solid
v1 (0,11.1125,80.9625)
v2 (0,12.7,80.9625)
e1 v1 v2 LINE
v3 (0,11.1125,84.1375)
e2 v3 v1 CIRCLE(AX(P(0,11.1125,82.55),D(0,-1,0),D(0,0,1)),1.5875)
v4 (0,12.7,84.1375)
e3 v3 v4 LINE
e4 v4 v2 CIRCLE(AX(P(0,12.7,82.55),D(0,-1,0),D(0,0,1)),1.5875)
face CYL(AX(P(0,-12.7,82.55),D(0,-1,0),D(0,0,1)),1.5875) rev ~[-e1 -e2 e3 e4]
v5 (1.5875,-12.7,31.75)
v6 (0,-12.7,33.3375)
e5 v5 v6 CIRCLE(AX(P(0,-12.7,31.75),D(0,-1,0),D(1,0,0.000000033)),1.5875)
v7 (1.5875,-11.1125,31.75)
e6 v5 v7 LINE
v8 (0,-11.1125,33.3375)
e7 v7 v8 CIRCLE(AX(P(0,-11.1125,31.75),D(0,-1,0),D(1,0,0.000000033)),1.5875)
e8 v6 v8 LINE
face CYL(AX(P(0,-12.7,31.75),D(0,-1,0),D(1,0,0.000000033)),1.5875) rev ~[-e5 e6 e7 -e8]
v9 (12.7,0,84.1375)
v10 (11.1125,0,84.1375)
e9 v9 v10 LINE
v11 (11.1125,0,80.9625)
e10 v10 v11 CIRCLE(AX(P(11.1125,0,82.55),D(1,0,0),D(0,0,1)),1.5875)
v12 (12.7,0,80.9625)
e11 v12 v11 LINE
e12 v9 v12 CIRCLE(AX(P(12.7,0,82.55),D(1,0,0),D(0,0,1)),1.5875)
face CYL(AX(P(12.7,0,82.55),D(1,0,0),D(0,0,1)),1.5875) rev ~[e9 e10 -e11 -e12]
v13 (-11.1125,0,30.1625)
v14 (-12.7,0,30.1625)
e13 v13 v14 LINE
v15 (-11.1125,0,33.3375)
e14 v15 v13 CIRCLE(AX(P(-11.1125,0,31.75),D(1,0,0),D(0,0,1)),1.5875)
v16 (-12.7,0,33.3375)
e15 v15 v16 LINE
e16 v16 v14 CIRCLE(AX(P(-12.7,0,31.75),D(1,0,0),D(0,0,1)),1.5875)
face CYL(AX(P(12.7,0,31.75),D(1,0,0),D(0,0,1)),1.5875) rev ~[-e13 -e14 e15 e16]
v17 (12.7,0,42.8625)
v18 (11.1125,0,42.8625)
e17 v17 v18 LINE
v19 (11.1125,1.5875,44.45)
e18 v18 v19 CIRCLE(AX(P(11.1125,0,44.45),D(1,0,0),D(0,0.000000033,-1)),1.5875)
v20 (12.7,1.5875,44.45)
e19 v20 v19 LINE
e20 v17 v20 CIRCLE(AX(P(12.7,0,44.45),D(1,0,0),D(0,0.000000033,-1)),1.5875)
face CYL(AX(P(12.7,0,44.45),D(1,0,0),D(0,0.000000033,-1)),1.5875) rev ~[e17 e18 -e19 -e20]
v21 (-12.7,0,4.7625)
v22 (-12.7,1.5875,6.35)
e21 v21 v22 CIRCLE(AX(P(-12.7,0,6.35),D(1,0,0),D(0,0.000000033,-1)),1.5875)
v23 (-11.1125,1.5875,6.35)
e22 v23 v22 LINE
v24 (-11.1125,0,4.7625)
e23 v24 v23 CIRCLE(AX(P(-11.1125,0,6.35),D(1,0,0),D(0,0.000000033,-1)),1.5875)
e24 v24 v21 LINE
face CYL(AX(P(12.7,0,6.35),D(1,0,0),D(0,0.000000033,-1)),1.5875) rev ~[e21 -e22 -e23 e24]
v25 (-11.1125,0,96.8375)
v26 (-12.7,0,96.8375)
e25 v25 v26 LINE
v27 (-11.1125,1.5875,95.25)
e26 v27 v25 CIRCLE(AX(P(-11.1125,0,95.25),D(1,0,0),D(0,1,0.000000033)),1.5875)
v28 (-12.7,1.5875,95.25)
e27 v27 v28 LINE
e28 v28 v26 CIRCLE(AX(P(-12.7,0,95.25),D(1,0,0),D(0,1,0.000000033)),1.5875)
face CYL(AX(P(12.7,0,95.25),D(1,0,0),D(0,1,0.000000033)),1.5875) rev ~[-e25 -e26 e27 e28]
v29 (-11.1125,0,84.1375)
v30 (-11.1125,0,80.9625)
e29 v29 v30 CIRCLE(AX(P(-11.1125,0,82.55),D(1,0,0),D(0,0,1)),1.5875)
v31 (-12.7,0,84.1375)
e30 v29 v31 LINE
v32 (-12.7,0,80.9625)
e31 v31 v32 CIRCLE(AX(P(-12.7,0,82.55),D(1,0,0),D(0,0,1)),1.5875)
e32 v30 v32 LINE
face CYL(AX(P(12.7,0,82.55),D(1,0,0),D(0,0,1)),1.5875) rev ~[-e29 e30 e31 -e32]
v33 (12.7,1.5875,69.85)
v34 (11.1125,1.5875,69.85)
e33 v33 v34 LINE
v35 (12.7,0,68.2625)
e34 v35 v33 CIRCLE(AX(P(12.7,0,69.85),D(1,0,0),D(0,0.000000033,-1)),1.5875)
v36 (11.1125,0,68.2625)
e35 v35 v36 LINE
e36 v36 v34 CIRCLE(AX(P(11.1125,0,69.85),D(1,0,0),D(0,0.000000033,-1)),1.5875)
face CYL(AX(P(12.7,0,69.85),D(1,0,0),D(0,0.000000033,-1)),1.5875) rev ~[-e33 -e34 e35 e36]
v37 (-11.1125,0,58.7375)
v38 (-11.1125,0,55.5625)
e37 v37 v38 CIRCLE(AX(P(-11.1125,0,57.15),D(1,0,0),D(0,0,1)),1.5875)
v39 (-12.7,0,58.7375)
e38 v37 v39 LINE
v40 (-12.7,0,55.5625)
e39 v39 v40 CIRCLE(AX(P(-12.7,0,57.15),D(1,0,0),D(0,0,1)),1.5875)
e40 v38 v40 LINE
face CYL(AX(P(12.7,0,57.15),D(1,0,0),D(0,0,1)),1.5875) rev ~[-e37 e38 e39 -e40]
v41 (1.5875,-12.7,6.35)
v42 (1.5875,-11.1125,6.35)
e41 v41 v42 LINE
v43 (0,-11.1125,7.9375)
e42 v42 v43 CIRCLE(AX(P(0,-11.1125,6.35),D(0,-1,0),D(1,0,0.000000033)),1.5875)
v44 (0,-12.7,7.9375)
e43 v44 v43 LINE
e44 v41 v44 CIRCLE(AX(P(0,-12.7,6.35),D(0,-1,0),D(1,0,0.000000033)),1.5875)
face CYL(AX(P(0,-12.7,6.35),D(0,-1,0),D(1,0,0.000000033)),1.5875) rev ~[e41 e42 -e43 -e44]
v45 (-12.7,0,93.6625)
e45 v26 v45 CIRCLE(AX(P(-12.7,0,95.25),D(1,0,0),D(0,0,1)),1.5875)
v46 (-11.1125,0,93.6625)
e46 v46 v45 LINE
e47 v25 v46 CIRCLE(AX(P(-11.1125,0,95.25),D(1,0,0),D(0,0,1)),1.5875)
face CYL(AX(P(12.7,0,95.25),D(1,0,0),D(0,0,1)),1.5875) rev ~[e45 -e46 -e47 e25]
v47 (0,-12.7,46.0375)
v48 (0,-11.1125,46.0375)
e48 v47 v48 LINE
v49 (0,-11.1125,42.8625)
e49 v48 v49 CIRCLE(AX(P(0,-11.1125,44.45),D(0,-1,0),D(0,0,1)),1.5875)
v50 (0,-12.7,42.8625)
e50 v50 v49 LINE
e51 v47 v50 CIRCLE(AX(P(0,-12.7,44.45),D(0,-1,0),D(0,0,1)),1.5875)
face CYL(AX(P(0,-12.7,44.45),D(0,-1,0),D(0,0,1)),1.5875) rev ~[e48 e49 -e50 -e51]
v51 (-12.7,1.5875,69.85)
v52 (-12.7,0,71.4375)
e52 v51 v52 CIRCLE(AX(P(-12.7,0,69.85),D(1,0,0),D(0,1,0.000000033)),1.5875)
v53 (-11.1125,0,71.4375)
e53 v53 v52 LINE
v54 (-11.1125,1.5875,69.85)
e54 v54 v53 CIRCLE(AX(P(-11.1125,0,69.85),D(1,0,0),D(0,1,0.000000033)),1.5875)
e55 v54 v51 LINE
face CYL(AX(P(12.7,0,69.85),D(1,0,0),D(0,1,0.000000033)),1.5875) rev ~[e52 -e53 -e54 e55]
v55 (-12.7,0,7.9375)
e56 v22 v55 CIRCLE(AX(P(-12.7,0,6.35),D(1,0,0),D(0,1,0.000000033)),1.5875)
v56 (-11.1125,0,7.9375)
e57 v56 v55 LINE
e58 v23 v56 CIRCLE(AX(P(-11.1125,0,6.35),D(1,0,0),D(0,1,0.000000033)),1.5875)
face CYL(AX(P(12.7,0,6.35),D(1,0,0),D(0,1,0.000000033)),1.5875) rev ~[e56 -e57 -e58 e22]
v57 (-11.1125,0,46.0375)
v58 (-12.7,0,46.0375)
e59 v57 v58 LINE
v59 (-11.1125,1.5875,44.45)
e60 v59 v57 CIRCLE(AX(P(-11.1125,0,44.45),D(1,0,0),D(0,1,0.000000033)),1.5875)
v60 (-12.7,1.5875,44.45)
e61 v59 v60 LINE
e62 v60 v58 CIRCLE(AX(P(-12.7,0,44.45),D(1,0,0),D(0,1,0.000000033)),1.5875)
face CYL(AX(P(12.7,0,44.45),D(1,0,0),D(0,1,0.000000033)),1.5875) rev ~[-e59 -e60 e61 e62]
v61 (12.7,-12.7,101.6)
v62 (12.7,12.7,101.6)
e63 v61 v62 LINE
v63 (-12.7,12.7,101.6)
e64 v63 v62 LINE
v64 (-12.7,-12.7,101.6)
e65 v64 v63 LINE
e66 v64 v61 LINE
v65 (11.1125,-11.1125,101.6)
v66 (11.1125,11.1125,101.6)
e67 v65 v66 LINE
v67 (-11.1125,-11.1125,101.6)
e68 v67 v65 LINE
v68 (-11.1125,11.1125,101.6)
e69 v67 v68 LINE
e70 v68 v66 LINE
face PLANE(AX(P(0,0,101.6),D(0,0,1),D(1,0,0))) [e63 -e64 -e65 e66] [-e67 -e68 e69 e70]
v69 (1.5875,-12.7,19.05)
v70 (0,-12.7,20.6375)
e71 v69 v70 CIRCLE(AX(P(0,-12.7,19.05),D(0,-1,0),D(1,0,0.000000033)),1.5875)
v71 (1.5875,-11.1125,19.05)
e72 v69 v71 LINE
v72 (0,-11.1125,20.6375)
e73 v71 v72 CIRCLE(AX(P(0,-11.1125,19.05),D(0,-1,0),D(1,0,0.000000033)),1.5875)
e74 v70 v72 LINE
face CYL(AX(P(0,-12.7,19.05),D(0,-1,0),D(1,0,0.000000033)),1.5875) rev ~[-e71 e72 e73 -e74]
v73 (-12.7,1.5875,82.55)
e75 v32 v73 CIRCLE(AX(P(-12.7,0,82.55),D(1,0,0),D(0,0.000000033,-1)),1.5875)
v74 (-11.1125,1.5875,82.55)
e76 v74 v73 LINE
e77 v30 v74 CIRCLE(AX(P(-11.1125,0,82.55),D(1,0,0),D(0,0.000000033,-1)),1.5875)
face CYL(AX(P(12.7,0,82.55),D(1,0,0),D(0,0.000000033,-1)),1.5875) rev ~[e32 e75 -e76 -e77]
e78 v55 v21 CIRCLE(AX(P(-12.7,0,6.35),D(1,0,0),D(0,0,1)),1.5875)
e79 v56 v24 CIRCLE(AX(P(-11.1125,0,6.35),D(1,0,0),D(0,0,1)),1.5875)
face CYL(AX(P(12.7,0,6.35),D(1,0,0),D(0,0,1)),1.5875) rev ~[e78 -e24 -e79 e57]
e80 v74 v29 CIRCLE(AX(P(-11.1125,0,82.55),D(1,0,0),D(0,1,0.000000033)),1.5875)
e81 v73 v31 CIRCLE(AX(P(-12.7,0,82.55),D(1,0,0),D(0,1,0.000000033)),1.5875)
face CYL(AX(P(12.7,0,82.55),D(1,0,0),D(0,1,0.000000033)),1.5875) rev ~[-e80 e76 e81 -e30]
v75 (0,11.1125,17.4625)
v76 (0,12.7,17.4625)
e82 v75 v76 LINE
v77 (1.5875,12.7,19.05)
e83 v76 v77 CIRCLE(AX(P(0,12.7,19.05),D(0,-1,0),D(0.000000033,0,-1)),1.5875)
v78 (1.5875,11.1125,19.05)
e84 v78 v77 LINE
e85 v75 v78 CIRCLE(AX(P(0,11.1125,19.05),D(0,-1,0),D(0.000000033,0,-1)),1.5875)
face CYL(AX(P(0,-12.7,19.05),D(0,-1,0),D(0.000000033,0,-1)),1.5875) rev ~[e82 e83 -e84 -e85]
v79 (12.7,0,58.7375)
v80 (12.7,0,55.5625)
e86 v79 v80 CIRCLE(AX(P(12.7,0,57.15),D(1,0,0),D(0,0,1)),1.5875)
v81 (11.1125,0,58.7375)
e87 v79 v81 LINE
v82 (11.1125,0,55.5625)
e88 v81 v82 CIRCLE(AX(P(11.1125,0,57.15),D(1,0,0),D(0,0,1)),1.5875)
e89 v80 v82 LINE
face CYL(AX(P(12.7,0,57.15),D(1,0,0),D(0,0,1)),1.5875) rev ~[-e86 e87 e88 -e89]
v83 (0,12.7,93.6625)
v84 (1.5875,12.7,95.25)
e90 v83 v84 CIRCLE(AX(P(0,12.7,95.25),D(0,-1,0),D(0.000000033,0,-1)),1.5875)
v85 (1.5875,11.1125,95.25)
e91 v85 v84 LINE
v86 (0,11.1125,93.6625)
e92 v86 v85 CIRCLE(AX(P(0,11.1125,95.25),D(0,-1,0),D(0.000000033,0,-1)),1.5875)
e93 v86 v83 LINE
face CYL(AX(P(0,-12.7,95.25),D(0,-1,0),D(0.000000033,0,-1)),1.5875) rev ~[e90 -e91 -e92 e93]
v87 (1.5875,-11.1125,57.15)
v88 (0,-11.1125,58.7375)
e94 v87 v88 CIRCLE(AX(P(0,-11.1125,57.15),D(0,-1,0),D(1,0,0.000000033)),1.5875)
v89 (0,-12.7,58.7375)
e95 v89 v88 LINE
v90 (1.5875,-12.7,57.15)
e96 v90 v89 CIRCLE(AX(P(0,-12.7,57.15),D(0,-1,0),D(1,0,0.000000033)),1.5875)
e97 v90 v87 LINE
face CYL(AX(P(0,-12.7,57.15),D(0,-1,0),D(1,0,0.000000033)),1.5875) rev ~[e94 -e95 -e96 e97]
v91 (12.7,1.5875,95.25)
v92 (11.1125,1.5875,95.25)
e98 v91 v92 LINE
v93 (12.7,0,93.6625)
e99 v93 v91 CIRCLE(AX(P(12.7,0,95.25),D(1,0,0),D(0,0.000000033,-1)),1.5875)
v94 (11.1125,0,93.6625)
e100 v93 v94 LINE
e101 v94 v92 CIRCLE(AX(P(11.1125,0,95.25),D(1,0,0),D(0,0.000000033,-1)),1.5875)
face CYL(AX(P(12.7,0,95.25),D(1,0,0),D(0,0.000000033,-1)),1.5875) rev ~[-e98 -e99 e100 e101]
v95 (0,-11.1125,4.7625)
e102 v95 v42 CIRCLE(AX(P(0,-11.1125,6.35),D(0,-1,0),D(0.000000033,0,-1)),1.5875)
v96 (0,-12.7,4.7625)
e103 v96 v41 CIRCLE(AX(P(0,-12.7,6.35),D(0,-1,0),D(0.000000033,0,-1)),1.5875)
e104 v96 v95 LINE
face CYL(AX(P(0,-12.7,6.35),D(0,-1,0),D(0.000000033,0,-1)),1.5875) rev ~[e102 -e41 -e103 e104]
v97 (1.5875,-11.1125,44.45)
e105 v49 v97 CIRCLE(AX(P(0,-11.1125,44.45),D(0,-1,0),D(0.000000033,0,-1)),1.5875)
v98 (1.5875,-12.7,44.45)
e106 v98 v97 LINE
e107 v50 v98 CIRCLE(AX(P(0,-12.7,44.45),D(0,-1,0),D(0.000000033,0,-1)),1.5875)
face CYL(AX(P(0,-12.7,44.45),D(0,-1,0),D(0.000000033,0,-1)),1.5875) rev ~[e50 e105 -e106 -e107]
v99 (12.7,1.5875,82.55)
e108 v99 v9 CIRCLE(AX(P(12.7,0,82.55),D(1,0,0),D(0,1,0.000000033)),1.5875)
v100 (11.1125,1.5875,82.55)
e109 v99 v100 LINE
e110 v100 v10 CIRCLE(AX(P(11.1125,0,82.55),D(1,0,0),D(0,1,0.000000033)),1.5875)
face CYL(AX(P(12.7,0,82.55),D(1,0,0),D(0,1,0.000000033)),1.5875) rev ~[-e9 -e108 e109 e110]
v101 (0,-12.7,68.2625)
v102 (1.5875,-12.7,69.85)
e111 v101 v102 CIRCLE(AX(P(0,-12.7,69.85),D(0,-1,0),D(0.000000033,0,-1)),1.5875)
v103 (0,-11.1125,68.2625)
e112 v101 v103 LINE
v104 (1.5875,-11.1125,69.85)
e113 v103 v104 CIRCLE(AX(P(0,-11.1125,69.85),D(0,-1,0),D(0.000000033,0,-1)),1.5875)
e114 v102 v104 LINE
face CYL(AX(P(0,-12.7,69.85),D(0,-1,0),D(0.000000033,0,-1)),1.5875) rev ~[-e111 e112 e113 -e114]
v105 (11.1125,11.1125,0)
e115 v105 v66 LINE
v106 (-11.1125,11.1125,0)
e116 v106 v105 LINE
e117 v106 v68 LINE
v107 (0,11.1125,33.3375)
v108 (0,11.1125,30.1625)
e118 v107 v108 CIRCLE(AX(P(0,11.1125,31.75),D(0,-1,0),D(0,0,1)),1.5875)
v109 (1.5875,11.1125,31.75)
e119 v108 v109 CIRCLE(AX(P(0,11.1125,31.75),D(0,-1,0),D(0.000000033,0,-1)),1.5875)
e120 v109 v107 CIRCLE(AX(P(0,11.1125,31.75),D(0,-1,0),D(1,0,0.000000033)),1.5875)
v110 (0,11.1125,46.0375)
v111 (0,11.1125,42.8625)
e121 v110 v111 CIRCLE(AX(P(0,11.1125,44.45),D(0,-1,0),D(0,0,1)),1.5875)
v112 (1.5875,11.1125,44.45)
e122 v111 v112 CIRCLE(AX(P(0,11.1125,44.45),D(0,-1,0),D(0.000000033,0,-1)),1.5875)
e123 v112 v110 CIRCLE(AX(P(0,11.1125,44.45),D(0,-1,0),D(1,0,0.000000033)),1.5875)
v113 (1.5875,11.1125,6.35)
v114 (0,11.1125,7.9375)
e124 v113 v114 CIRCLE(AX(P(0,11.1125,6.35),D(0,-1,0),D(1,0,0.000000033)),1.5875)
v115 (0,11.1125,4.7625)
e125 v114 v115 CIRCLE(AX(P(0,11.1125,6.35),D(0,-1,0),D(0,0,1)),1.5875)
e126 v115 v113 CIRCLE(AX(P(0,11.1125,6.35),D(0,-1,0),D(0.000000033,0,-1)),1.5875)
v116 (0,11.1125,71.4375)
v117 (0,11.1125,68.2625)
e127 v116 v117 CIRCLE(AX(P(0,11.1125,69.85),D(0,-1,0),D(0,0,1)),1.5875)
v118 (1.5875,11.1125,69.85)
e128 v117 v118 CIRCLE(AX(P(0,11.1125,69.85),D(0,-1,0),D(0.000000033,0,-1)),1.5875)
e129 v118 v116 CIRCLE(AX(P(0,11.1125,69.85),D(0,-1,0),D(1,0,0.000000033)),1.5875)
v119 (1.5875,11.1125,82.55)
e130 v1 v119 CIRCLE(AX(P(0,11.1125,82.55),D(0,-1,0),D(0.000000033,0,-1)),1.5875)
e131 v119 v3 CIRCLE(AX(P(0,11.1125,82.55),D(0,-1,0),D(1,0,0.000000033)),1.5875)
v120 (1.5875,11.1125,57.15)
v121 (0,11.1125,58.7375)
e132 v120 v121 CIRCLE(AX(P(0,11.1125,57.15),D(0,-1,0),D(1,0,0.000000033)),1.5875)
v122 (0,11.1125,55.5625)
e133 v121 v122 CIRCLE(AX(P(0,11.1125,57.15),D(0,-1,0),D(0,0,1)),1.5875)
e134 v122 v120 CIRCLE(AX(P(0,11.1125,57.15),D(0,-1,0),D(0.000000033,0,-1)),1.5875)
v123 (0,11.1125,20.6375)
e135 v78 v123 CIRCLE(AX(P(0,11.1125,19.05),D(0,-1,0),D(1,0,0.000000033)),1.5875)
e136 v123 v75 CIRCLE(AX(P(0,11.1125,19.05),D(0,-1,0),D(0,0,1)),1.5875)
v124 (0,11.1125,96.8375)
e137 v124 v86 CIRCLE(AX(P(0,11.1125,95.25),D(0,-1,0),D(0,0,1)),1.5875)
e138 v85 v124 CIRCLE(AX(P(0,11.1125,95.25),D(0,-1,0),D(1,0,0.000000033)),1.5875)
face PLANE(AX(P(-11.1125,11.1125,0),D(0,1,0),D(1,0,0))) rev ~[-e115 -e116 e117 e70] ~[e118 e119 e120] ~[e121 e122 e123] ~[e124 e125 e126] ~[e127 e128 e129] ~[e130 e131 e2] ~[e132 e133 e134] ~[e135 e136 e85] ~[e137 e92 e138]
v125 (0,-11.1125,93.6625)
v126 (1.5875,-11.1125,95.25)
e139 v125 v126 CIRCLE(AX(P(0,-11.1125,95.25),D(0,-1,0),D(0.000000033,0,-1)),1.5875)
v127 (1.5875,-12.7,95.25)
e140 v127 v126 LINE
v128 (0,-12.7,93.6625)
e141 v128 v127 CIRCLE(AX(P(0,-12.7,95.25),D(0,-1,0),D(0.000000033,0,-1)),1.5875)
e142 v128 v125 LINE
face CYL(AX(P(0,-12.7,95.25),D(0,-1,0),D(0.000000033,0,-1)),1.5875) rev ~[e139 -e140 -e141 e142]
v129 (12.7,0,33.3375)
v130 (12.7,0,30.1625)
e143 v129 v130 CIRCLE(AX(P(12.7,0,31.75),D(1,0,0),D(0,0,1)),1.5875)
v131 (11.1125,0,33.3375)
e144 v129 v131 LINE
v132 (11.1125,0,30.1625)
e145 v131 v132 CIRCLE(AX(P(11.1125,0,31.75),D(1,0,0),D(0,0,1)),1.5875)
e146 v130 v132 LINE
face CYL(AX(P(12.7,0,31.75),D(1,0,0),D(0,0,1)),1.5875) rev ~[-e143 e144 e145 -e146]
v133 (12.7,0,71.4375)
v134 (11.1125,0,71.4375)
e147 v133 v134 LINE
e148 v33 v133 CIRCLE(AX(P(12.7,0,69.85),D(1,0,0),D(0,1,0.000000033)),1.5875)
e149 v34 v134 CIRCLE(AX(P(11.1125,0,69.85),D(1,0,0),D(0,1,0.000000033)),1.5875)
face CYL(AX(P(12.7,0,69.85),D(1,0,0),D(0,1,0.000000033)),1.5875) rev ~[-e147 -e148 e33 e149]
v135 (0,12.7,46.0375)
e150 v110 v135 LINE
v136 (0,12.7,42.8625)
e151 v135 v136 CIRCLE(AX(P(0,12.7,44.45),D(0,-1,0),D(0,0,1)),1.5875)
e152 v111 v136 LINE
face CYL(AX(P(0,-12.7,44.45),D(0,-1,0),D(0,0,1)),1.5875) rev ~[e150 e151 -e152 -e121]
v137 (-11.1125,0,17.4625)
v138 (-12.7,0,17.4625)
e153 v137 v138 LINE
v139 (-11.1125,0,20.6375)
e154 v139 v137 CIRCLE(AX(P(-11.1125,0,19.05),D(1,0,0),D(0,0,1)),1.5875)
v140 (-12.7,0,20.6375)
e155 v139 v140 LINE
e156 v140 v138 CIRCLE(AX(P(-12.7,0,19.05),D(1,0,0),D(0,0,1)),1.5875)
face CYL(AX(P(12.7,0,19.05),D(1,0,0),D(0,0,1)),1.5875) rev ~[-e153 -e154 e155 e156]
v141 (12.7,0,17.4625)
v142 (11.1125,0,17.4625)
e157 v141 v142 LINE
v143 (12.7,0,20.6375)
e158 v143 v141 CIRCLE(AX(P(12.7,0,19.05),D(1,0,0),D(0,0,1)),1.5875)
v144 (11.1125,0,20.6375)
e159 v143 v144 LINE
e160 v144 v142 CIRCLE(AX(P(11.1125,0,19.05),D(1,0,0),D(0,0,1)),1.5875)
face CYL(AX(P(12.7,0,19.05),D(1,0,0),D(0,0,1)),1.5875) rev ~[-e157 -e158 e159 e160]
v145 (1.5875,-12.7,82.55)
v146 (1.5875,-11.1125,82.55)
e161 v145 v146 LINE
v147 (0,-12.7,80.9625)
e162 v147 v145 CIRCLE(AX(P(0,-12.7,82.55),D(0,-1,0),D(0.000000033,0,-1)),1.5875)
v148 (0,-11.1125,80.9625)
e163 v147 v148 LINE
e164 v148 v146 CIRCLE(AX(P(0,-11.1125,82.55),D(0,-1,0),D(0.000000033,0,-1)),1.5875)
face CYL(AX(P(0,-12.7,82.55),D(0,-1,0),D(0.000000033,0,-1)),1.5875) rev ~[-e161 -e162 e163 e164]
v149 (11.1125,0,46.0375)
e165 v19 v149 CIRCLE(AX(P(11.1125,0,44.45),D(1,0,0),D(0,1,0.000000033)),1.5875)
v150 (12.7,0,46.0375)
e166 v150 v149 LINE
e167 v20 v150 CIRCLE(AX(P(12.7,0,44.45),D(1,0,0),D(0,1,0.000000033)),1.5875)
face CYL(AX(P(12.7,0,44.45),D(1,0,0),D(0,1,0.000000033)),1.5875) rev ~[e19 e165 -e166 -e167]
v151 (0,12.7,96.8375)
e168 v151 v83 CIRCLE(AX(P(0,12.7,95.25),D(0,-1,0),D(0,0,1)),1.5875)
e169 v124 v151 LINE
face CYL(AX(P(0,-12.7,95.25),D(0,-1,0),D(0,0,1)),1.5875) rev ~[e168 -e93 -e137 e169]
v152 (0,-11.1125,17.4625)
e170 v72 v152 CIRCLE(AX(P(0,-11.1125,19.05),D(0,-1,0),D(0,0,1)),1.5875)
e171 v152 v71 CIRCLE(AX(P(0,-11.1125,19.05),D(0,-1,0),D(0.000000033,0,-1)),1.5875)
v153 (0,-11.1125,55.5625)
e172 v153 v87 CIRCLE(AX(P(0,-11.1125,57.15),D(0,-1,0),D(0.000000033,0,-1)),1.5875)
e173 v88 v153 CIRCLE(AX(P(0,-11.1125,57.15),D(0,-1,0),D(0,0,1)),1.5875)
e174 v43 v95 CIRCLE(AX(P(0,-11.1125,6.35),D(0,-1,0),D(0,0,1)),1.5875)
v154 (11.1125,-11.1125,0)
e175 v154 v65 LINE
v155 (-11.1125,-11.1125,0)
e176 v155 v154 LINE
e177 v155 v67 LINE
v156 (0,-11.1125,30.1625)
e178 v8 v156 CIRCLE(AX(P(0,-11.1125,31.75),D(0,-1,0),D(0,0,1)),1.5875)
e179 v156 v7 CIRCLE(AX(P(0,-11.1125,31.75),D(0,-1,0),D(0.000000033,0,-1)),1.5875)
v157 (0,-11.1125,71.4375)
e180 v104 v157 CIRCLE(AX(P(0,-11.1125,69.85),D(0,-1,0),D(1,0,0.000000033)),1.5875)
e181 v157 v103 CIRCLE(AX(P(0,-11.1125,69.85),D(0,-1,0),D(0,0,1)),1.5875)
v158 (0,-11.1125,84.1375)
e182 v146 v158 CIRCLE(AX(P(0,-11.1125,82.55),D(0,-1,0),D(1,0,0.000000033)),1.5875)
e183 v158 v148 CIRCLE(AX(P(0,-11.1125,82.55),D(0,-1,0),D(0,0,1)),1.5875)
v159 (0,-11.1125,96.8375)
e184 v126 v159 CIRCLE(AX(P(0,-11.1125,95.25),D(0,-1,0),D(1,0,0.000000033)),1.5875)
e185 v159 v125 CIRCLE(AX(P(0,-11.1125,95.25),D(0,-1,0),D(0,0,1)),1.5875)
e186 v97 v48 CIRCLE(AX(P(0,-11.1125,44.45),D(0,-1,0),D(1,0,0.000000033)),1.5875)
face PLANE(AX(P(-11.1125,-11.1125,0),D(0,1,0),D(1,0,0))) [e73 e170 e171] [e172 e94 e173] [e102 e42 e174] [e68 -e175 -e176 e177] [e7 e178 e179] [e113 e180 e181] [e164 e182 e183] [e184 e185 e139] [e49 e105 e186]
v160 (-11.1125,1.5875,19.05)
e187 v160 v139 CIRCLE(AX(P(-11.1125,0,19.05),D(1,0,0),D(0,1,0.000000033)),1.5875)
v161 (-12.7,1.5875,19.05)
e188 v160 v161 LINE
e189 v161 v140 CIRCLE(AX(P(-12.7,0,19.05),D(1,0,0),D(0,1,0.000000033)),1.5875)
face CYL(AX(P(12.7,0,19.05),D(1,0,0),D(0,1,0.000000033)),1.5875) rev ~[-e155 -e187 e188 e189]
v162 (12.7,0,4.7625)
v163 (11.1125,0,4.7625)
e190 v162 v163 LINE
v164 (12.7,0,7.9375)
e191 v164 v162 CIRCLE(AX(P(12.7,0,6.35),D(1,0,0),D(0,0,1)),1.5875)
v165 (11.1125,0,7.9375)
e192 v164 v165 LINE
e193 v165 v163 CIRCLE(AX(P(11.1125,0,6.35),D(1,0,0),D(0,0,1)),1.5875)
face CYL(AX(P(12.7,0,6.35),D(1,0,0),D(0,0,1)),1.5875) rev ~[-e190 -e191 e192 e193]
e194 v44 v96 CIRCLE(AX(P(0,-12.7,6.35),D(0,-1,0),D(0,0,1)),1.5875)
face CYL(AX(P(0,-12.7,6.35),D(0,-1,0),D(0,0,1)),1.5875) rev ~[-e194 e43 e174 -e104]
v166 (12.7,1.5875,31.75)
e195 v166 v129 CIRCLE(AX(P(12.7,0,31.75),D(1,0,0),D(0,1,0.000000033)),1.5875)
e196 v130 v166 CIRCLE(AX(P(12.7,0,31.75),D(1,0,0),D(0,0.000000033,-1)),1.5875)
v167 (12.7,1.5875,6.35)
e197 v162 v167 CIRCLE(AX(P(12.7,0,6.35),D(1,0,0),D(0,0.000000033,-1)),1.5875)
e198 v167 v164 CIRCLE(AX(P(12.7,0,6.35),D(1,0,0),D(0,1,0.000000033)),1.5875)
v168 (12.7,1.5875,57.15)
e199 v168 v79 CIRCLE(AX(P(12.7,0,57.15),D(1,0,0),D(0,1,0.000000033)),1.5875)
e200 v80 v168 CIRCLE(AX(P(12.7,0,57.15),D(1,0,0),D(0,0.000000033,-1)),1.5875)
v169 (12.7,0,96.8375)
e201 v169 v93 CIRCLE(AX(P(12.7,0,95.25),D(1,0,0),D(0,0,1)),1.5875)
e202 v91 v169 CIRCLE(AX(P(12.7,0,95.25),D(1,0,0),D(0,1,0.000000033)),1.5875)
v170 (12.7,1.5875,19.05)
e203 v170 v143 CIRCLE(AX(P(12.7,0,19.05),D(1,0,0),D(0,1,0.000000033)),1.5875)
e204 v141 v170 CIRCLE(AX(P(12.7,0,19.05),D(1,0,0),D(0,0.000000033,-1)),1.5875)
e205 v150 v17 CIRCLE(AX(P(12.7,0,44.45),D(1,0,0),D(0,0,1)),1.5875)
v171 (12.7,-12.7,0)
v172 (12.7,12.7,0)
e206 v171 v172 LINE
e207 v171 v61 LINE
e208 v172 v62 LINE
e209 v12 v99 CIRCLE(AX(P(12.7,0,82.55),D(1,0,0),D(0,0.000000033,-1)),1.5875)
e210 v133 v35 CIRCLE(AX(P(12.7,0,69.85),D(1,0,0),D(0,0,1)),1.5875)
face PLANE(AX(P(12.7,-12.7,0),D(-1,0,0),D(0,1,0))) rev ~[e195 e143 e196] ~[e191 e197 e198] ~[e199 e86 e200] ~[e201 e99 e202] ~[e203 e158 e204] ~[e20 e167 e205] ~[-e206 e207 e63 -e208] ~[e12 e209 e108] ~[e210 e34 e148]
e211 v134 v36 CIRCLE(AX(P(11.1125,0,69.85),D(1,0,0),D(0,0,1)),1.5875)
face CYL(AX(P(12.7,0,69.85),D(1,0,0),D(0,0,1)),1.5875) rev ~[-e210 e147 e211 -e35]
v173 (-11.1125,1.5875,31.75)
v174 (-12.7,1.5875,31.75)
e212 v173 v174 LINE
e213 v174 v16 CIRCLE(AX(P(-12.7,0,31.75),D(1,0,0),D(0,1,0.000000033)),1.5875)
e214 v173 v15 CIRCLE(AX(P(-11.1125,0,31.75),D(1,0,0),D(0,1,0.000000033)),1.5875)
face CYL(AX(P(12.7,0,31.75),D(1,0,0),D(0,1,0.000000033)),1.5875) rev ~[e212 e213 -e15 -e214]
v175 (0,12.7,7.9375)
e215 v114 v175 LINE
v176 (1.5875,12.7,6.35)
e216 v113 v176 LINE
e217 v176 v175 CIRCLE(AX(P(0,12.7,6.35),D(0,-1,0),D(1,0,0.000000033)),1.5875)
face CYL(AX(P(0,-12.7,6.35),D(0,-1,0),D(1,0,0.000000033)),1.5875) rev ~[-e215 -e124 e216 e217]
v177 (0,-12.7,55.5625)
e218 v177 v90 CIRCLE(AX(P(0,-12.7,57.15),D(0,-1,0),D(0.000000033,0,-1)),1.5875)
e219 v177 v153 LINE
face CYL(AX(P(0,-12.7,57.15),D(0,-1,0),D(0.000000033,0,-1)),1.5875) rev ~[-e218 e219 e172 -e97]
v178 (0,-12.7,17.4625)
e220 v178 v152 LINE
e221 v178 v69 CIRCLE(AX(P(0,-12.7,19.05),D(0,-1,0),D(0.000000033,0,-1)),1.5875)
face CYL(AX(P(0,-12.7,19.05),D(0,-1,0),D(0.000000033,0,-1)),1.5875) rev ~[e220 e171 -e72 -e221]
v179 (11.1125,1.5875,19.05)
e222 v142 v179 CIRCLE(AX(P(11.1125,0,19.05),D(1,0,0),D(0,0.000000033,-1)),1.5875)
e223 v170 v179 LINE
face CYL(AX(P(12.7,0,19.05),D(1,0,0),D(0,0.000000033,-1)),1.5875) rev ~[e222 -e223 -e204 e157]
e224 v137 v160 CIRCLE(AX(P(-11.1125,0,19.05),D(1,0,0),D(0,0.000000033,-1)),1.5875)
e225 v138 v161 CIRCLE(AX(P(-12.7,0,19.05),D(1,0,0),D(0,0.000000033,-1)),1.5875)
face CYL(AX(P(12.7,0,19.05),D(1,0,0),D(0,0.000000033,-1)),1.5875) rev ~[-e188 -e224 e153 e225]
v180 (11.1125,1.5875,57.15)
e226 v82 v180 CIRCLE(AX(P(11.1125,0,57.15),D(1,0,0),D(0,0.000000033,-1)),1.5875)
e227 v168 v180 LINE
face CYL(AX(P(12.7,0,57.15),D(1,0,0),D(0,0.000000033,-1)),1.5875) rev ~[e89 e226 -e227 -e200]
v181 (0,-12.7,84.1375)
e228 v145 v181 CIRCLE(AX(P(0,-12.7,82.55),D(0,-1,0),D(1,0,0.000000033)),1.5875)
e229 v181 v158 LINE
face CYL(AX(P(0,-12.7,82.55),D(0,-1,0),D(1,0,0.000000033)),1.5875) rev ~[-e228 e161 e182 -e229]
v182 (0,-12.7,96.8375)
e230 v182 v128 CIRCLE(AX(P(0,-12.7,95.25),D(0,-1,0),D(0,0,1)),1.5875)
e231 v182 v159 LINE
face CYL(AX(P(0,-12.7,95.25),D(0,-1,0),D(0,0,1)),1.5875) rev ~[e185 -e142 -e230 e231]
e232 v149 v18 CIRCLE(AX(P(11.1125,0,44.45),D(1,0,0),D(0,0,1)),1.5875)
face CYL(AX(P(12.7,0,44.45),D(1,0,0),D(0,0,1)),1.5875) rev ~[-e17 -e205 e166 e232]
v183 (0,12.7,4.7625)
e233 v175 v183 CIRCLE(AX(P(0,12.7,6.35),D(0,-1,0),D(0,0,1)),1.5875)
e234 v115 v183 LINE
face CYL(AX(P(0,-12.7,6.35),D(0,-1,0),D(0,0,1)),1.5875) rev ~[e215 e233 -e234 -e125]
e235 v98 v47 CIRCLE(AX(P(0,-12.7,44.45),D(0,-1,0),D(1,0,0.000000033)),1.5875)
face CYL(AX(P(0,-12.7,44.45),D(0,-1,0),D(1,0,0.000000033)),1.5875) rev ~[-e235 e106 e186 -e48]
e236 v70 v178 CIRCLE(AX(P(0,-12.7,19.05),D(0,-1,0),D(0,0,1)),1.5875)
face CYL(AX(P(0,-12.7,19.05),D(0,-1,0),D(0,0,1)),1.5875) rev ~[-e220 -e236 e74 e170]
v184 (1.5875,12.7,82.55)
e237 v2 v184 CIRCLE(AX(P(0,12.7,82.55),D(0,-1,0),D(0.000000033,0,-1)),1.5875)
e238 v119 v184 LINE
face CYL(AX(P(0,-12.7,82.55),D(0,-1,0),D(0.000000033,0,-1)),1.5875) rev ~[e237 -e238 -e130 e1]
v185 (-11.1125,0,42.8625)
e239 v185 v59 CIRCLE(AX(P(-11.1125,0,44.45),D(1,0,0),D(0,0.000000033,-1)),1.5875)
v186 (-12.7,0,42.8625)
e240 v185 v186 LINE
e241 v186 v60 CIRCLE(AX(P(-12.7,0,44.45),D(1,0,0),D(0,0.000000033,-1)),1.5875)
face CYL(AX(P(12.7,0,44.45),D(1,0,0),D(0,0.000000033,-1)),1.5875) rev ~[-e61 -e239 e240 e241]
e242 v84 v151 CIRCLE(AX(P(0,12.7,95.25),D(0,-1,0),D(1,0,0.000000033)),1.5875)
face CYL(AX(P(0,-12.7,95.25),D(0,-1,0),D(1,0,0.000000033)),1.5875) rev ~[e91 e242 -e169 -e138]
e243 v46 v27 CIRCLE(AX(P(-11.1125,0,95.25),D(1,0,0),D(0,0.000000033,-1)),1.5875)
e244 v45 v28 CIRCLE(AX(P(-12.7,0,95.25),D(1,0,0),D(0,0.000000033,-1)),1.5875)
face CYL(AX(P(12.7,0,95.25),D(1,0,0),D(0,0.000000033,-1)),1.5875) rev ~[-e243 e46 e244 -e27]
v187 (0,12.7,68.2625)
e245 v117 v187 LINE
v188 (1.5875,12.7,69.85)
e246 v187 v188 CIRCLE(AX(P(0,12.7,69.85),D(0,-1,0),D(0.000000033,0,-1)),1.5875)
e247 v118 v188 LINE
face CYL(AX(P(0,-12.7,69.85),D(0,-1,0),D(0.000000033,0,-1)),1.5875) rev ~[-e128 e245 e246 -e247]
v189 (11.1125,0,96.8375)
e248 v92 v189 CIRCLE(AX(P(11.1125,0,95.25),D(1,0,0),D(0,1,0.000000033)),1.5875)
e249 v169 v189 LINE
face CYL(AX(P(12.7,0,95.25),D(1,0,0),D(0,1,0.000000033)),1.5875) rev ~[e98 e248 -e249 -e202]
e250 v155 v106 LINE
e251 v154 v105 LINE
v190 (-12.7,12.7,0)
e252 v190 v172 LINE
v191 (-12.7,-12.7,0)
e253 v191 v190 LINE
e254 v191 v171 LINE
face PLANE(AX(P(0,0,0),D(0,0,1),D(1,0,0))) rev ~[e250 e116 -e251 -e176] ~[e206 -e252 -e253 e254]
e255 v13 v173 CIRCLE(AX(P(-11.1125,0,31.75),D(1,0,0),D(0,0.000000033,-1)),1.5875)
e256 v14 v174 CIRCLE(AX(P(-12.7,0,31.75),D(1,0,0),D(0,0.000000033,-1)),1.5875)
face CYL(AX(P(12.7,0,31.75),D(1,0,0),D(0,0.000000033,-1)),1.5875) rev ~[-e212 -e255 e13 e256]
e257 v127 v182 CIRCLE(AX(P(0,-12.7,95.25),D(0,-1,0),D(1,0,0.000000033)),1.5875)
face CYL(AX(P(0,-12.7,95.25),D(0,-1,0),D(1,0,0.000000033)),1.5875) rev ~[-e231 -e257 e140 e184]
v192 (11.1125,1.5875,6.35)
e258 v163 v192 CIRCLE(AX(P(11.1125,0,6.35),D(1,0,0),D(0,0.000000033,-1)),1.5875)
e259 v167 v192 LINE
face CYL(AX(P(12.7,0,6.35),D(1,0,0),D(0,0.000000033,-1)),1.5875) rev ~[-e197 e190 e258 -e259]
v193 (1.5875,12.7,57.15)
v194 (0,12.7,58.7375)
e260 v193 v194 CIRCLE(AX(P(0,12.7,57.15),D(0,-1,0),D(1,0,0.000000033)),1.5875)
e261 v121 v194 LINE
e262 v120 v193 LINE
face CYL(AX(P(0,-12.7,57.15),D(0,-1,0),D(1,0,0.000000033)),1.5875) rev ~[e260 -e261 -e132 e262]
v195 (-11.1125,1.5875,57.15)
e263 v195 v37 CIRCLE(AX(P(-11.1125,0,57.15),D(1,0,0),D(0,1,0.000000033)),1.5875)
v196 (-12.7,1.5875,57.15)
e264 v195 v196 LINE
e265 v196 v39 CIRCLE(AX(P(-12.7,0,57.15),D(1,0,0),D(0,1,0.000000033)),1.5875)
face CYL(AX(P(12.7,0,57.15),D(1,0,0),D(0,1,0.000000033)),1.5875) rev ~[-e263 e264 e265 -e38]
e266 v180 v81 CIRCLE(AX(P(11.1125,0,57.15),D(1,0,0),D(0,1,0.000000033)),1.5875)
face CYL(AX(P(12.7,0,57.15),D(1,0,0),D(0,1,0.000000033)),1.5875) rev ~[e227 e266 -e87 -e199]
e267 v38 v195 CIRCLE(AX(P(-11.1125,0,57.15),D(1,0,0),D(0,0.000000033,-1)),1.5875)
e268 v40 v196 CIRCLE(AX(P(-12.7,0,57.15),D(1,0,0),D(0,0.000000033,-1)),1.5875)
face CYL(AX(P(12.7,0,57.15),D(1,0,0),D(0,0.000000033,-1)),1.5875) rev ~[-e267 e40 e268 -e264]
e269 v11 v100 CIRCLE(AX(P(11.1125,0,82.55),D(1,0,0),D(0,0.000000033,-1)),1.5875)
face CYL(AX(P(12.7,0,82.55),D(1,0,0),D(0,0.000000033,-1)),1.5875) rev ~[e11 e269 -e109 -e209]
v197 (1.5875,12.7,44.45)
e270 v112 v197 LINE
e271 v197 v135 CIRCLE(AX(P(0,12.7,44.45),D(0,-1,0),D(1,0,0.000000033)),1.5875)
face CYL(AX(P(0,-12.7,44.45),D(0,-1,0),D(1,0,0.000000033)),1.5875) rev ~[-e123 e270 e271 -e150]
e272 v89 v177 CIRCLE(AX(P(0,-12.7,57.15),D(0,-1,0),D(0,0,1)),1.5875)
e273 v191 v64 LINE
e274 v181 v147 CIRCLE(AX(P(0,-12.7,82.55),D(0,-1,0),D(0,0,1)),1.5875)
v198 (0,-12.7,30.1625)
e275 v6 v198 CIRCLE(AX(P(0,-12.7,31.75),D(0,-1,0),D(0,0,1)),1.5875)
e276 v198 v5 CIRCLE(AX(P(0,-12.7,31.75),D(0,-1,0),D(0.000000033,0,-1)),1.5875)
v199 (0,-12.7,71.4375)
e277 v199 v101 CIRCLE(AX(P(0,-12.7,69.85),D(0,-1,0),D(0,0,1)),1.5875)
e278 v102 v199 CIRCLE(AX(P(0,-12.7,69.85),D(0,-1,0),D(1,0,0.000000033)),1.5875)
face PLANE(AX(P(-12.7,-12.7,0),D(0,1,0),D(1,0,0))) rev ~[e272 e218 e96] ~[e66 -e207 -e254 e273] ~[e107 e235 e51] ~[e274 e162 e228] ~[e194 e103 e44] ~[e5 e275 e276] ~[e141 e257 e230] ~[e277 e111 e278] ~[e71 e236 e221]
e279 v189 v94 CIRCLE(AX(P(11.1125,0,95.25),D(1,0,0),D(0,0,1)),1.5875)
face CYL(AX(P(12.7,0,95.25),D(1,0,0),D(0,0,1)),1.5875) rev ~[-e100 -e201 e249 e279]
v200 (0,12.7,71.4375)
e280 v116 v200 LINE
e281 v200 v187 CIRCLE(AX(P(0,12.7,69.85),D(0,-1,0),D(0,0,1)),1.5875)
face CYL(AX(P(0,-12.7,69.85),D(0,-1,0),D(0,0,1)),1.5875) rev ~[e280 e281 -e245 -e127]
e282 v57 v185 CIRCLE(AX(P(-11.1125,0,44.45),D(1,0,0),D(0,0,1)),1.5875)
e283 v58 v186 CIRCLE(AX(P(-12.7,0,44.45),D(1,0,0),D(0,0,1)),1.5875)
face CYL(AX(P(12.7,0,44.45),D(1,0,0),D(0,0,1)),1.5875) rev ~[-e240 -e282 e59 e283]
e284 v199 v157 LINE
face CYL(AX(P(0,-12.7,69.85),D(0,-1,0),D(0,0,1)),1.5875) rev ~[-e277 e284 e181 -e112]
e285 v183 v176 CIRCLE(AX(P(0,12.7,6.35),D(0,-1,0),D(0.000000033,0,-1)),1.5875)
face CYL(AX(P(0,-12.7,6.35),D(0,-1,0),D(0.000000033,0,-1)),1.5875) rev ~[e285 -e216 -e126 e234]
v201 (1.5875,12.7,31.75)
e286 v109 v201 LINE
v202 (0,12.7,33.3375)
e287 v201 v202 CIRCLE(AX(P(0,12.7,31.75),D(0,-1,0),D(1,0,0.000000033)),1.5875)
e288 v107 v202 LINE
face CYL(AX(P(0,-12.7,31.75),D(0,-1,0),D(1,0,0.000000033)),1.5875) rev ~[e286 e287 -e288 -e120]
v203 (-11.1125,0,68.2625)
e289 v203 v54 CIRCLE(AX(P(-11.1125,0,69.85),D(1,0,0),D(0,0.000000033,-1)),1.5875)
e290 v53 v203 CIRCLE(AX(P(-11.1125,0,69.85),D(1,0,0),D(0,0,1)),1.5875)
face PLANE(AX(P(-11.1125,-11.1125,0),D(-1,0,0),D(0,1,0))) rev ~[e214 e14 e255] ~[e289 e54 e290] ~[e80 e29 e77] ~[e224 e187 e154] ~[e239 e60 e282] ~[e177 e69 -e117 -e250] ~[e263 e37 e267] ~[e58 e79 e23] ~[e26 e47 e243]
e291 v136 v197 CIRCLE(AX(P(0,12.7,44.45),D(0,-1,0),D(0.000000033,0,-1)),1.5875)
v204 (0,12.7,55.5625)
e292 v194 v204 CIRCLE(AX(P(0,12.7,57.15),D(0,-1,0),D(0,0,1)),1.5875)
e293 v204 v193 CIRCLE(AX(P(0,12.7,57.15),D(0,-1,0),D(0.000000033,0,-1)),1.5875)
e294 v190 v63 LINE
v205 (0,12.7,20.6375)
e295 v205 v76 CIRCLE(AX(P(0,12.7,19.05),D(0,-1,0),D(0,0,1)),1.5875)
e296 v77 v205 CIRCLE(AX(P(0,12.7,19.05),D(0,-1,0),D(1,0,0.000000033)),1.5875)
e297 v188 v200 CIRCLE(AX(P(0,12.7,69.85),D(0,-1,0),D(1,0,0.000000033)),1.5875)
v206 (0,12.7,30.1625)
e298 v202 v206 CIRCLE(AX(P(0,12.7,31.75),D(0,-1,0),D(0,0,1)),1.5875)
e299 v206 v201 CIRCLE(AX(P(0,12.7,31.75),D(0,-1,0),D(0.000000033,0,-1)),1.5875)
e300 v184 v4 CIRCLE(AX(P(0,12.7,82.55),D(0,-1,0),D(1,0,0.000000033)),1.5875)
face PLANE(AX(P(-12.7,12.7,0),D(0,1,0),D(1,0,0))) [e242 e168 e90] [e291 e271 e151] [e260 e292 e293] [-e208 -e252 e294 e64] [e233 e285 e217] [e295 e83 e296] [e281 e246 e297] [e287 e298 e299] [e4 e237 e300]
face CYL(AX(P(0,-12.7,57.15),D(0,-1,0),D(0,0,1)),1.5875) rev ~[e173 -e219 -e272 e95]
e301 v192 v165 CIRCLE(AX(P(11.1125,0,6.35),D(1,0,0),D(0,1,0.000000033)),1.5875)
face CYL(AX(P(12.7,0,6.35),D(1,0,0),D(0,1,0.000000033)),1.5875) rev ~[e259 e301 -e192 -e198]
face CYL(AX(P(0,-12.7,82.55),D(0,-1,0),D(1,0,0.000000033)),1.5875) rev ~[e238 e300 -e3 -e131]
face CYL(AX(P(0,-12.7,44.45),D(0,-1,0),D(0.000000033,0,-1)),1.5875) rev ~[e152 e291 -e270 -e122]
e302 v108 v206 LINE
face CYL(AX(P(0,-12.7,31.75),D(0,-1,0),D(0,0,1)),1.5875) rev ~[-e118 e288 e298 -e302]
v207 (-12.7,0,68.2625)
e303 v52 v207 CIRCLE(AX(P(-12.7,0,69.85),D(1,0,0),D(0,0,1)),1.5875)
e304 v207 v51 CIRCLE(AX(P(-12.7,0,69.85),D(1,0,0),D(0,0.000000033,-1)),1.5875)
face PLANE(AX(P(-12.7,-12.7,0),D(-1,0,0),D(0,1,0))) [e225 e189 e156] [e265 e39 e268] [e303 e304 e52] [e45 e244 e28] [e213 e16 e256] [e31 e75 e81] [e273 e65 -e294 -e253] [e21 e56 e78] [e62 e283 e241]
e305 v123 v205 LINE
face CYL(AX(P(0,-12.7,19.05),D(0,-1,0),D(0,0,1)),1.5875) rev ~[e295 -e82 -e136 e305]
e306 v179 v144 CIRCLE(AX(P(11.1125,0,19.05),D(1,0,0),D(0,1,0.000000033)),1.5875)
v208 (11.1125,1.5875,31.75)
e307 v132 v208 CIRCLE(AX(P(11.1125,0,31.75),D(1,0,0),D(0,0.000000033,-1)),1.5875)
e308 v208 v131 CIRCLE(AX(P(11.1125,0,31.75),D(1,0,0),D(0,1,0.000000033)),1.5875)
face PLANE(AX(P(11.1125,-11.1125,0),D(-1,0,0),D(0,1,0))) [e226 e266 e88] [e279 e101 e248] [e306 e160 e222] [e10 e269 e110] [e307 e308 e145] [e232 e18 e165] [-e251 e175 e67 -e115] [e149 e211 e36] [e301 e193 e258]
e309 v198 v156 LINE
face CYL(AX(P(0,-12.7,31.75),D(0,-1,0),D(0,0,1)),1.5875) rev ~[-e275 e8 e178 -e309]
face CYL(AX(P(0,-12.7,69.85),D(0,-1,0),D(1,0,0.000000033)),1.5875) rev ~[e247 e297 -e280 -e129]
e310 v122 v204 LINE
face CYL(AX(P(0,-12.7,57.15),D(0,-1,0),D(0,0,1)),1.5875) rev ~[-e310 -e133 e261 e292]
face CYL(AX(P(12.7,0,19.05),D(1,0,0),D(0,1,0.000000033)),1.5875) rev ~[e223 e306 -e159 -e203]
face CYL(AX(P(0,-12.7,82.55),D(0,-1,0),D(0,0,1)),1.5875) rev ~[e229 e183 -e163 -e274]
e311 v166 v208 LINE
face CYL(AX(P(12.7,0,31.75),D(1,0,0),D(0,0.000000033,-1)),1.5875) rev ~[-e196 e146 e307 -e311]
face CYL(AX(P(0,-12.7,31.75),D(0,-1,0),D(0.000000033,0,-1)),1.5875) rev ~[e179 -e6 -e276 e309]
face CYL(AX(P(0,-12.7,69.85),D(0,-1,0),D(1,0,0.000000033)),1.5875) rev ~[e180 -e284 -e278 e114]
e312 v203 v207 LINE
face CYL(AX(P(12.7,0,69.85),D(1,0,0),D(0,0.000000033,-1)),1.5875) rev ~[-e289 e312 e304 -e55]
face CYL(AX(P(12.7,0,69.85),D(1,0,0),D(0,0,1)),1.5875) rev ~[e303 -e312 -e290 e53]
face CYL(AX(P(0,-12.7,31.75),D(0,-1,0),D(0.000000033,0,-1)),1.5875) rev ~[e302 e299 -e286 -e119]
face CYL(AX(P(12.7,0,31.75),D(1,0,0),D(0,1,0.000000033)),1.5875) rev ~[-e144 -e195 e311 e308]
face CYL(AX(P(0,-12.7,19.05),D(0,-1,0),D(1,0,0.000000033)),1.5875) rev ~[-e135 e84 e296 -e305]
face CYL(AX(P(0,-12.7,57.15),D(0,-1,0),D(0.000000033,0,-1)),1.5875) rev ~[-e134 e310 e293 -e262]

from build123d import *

# Parameters (mm, degrees)
F0_W     = 25.4
F0_H     = 25.4
F0_W_2   = 22.225
F0_H_2   = 22.225
F1_DEPTH = 101.6
F2_R     = 1.5875
F3_DEPTH = 25.4
F5_DEPTH = 25.4


with BuildPart() as f1:
    # F0 (on Top) → F1 (new body)
    with BuildSketch(Plane.XY):
        Rectangle(F0_W, F0_H)
        Rectangle(F0_W_2, F0_H_2, mode=Mode.SUBTRACT)
    extrude(amount=F1_DEPTH)

    # F2 (on face) → F3 (cut)
    with BuildSketch(Plane.XZ.offset(12.7)):
        with BuildLine():
            ThreePointArc((1.5875, 95.25), (1.122532, 96.372532), (0, 96.8375))
            Line((0, 96.8375), (0, 93.6625))
            ThreePointArc((0, 93.6625), (1.122532, 94.127468), (1.5875, 95.25))
        make_face()
        with BuildLine():
            ThreePointArc((1.5875, 6.35), (1.122532, 7.472532), (0, 7.9375))
            Line((0, 7.9375), (0, 4.7625))
            ThreePointArc((0, 4.7625), (1.122532, 5.227468), (1.5875, 6.35))
        make_face()
        with BuildLine():
            Line((0, 4.7625), (0, 7.9375))
            ThreePointArc((0, 7.9375), (-1.5875, 6.35), (0, 4.7625))
        make_face()
        with BuildLine():
            ThreePointArc((1.5875, 19.05), (1.122532, 20.172532), (0, 20.6375))
            Line((0, 20.6375), (0, 17.4625))
            ThreePointArc((0, 17.4625), (1.122532, 17.927468), (1.5875, 19.05))
        make_face()
        with BuildLine():
            Line((0, 17.4625), (0, 20.6375))
            ThreePointArc((0, 20.6375), (-1.5875, 19.05), (0, 17.4625))
        make_face()
        with BuildLine():
            ThreePointArc((1.5875, 31.75), (1.122532, 32.872532), (0, 33.3375))
            Line((0, 33.3375), (0, 30.1625))
            ThreePointArc((0, 30.1625), (1.122532, 30.627468), (1.5875, 31.75))
        make_face()
        with BuildLine():
            Line((0, 30.1625), (0, 33.3375))
            ThreePointArc((0, 33.3375), (-1.5875, 31.75), (0, 30.1625))
        make_face()
        with BuildLine():
            ThreePointArc((1.5875, 44.45), (1.122532, 45.572532), (0, 46.0375))
            Line((0, 46.0375), (0, 42.8625))
            ThreePointArc((0, 42.8625), (1.122532, 43.327468), (1.5875, 44.45))
        make_face()
        with BuildLine():
            Line((0, 42.8625), (0, 46.0375))
            ThreePointArc((0, 46.0375), (-1.5875, 44.45), (0, 42.8625))
        make_face()
        with BuildLine():
            ThreePointArc((1.5875, 57.15), (1.122532, 58.272532), (0, 58.7375))
            Line((0, 58.7375), (0, 55.5625))
            ThreePointArc((0, 55.5625), (1.122532, 56.027468), (1.5875, 57.15))
        make_face()
        with BuildLine():
            Line((0, 55.5625), (0, 58.7375))
            ThreePointArc((0, 58.7375), (-1.5875, 57.15), (0, 55.5625))
        make_face()
        with BuildLine():
            ThreePointArc((1.5875, 69.85), (1.122532, 70.972532), (0, 71.4375))
            Line((0, 71.4375), (0, 68.2625))
            ThreePointArc((0, 68.2625), (1.122532, 68.727468), (1.5875, 69.85))
        make_face()
        with BuildLine():
            Line((0, 68.2625), (0, 71.4375))
            ThreePointArc((0, 71.4375), (-1.5875, 69.85), (0, 68.2625))
        make_face()
        with BuildLine():
            ThreePointArc((1.5875, 82.55), (1.122532, 83.672532), (0, 84.1375))
            Line((0, 84.1375), (0, 80.9625))
            ThreePointArc((0, 80.9625), (1.122532, 81.427468), (1.5875, 82.55))
        make_face()
        with BuildLine():
            Line((0, 80.9625), (0, 84.1375))
            ThreePointArc((0, 84.1375), (-1.5875, 82.55), (0, 80.9625))
        make_face()
        with BuildLine():
            Line((0, 93.6625), (0, 96.8375))
            ThreePointArc((0, 96.8375), (-1.5875, 95.25), (0, 93.6625))
        make_face()
        with Locations((92.636349, -11.009342)):
            Circle(F2_R)
        with Locations((123.515132, -46.429122)):
            Circle(F2_R)
    extrude(amount=-F3_DEPTH, mode=Mode.SUBTRACT)

    # F4 (on face) → F5 (cut)
    with BuildSketch(Plane.YZ.offset(12.7)):
        with BuildLine():
            ThreePointArc((1.5875, 95.25), (1.122532, 96.372532), (0, 96.8375))
            Line((0, 96.8375), (0, 93.6625))
            ThreePointArc((0, 93.6625), (1.122532, 94.127468), (1.5875, 95.25))
        make_face()
        with BuildLine():
            ThreePointArc((1.5875, 6.35), (1.122532, 7.472532), (0, 7.9375))
            Line((0, 7.9375), (0, 4.7625))
            ThreePointArc((0, 4.7625), (1.122532, 5.227468), (1.5875, 6.35))
        make_face()
        with BuildLine():
            Line((0, 4.7625), (0, 7.9375))
            ThreePointArc((0, 7.9375), (-1.5875, 6.35), (0, 4.7625))
        make_face()
        with BuildLine():
            ThreePointArc((1.5875, 19.05), (1.122532, 20.172532), (0, 20.6375))
            Line((0, 20.6375), (0, 17.4625))
            ThreePointArc((0, 17.4625), (1.122532, 17.927468), (1.5875, 19.05))
        make_face()
        with BuildLine():
            Line((0, 17.4625), (0, 20.6375))
            ThreePointArc((0, 20.6375), (-1.5875, 19.05), (0, 17.4625))
        make_face()
        with BuildLine():
            ThreePointArc((1.5875, 31.75), (1.122532, 32.872532), (0, 33.3375))
            Line((0, 33.3375), (0, 30.1625))
            ThreePointArc((0, 30.1625), (1.122532, 30.627468), (1.5875, 31.75))
        make_face()
        with BuildLine():
            Line((0, 30.1625), (0, 33.3375))
            ThreePointArc((0, 33.3375), (-1.5875, 31.75), (0, 30.1625))
        make_face()
        with BuildLine():
            ThreePointArc((1.5875, 44.45), (1.122532, 45.572532), (0, 46.0375))
            Line((0, 46.0375), (0, 42.8625))
            ThreePointArc((0, 42.8625), (1.122532, 43.327468), (1.5875, 44.45))
        make_face()
        with BuildLine():
            Line((0, 42.8625), (0, 46.0375))
            ThreePointArc((0, 46.0375), (-1.5875, 44.45), (0, 42.8625))
        make_face()
        with BuildLine():
            ThreePointArc((1.5875, 57.15), (1.122532, 58.272532), (0, 58.7375))
            Line((0, 58.7375), (0, 55.5625))
            ThreePointArc((0, 55.5625), (1.122532, 56.027468), (1.5875, 57.15))
        make_face()
        with BuildLine():
            Line((0, 55.5625), (0, 58.7375))
            ThreePointArc((0, 58.7375), (-1.5875, 57.15), (0, 55.5625))
        make_face()
        with BuildLine():
            ThreePointArc((1.5875, 69.85), (1.122532, 70.972532), (0, 71.4375))
            Line((0, 71.4375), (0, 68.2625))
            ThreePointArc((0, 68.2625), (1.122532, 68.727468), (1.5875, 69.85))
        make_face()
        with BuildLine():
            Line((0, 68.2625), (0, 71.4375))
            ThreePointArc((0, 71.4375), (-1.5875, 69.85), (0, 68.2625))
        make_face()
        with BuildLine():
            ThreePointArc((1.5875, 82.55), (1.122532, 83.672532), (0, 84.1375))
            Line((0, 84.1375), (0, 80.9625))
            ThreePointArc((0, 80.9625), (1.122532, 81.427468), (1.5875, 82.55))
        make_face()
        with BuildLine():
            Line((0, 80.9625), (0, 84.1375))
            ThreePointArc((0, 84.1375), (-1.5875, 82.55), (0, 80.9625))
        make_face()
        with BuildLine():
            Line((0, 93.6625), (0, 96.8375))
            ThreePointArc((0, 96.8375), (-1.5875, 95.25), (0, 93.6625))
        make_face()
    extrude(amount=-F5_DEPTH, mode=Mode.SUBTRACT)


solid = f1.part
